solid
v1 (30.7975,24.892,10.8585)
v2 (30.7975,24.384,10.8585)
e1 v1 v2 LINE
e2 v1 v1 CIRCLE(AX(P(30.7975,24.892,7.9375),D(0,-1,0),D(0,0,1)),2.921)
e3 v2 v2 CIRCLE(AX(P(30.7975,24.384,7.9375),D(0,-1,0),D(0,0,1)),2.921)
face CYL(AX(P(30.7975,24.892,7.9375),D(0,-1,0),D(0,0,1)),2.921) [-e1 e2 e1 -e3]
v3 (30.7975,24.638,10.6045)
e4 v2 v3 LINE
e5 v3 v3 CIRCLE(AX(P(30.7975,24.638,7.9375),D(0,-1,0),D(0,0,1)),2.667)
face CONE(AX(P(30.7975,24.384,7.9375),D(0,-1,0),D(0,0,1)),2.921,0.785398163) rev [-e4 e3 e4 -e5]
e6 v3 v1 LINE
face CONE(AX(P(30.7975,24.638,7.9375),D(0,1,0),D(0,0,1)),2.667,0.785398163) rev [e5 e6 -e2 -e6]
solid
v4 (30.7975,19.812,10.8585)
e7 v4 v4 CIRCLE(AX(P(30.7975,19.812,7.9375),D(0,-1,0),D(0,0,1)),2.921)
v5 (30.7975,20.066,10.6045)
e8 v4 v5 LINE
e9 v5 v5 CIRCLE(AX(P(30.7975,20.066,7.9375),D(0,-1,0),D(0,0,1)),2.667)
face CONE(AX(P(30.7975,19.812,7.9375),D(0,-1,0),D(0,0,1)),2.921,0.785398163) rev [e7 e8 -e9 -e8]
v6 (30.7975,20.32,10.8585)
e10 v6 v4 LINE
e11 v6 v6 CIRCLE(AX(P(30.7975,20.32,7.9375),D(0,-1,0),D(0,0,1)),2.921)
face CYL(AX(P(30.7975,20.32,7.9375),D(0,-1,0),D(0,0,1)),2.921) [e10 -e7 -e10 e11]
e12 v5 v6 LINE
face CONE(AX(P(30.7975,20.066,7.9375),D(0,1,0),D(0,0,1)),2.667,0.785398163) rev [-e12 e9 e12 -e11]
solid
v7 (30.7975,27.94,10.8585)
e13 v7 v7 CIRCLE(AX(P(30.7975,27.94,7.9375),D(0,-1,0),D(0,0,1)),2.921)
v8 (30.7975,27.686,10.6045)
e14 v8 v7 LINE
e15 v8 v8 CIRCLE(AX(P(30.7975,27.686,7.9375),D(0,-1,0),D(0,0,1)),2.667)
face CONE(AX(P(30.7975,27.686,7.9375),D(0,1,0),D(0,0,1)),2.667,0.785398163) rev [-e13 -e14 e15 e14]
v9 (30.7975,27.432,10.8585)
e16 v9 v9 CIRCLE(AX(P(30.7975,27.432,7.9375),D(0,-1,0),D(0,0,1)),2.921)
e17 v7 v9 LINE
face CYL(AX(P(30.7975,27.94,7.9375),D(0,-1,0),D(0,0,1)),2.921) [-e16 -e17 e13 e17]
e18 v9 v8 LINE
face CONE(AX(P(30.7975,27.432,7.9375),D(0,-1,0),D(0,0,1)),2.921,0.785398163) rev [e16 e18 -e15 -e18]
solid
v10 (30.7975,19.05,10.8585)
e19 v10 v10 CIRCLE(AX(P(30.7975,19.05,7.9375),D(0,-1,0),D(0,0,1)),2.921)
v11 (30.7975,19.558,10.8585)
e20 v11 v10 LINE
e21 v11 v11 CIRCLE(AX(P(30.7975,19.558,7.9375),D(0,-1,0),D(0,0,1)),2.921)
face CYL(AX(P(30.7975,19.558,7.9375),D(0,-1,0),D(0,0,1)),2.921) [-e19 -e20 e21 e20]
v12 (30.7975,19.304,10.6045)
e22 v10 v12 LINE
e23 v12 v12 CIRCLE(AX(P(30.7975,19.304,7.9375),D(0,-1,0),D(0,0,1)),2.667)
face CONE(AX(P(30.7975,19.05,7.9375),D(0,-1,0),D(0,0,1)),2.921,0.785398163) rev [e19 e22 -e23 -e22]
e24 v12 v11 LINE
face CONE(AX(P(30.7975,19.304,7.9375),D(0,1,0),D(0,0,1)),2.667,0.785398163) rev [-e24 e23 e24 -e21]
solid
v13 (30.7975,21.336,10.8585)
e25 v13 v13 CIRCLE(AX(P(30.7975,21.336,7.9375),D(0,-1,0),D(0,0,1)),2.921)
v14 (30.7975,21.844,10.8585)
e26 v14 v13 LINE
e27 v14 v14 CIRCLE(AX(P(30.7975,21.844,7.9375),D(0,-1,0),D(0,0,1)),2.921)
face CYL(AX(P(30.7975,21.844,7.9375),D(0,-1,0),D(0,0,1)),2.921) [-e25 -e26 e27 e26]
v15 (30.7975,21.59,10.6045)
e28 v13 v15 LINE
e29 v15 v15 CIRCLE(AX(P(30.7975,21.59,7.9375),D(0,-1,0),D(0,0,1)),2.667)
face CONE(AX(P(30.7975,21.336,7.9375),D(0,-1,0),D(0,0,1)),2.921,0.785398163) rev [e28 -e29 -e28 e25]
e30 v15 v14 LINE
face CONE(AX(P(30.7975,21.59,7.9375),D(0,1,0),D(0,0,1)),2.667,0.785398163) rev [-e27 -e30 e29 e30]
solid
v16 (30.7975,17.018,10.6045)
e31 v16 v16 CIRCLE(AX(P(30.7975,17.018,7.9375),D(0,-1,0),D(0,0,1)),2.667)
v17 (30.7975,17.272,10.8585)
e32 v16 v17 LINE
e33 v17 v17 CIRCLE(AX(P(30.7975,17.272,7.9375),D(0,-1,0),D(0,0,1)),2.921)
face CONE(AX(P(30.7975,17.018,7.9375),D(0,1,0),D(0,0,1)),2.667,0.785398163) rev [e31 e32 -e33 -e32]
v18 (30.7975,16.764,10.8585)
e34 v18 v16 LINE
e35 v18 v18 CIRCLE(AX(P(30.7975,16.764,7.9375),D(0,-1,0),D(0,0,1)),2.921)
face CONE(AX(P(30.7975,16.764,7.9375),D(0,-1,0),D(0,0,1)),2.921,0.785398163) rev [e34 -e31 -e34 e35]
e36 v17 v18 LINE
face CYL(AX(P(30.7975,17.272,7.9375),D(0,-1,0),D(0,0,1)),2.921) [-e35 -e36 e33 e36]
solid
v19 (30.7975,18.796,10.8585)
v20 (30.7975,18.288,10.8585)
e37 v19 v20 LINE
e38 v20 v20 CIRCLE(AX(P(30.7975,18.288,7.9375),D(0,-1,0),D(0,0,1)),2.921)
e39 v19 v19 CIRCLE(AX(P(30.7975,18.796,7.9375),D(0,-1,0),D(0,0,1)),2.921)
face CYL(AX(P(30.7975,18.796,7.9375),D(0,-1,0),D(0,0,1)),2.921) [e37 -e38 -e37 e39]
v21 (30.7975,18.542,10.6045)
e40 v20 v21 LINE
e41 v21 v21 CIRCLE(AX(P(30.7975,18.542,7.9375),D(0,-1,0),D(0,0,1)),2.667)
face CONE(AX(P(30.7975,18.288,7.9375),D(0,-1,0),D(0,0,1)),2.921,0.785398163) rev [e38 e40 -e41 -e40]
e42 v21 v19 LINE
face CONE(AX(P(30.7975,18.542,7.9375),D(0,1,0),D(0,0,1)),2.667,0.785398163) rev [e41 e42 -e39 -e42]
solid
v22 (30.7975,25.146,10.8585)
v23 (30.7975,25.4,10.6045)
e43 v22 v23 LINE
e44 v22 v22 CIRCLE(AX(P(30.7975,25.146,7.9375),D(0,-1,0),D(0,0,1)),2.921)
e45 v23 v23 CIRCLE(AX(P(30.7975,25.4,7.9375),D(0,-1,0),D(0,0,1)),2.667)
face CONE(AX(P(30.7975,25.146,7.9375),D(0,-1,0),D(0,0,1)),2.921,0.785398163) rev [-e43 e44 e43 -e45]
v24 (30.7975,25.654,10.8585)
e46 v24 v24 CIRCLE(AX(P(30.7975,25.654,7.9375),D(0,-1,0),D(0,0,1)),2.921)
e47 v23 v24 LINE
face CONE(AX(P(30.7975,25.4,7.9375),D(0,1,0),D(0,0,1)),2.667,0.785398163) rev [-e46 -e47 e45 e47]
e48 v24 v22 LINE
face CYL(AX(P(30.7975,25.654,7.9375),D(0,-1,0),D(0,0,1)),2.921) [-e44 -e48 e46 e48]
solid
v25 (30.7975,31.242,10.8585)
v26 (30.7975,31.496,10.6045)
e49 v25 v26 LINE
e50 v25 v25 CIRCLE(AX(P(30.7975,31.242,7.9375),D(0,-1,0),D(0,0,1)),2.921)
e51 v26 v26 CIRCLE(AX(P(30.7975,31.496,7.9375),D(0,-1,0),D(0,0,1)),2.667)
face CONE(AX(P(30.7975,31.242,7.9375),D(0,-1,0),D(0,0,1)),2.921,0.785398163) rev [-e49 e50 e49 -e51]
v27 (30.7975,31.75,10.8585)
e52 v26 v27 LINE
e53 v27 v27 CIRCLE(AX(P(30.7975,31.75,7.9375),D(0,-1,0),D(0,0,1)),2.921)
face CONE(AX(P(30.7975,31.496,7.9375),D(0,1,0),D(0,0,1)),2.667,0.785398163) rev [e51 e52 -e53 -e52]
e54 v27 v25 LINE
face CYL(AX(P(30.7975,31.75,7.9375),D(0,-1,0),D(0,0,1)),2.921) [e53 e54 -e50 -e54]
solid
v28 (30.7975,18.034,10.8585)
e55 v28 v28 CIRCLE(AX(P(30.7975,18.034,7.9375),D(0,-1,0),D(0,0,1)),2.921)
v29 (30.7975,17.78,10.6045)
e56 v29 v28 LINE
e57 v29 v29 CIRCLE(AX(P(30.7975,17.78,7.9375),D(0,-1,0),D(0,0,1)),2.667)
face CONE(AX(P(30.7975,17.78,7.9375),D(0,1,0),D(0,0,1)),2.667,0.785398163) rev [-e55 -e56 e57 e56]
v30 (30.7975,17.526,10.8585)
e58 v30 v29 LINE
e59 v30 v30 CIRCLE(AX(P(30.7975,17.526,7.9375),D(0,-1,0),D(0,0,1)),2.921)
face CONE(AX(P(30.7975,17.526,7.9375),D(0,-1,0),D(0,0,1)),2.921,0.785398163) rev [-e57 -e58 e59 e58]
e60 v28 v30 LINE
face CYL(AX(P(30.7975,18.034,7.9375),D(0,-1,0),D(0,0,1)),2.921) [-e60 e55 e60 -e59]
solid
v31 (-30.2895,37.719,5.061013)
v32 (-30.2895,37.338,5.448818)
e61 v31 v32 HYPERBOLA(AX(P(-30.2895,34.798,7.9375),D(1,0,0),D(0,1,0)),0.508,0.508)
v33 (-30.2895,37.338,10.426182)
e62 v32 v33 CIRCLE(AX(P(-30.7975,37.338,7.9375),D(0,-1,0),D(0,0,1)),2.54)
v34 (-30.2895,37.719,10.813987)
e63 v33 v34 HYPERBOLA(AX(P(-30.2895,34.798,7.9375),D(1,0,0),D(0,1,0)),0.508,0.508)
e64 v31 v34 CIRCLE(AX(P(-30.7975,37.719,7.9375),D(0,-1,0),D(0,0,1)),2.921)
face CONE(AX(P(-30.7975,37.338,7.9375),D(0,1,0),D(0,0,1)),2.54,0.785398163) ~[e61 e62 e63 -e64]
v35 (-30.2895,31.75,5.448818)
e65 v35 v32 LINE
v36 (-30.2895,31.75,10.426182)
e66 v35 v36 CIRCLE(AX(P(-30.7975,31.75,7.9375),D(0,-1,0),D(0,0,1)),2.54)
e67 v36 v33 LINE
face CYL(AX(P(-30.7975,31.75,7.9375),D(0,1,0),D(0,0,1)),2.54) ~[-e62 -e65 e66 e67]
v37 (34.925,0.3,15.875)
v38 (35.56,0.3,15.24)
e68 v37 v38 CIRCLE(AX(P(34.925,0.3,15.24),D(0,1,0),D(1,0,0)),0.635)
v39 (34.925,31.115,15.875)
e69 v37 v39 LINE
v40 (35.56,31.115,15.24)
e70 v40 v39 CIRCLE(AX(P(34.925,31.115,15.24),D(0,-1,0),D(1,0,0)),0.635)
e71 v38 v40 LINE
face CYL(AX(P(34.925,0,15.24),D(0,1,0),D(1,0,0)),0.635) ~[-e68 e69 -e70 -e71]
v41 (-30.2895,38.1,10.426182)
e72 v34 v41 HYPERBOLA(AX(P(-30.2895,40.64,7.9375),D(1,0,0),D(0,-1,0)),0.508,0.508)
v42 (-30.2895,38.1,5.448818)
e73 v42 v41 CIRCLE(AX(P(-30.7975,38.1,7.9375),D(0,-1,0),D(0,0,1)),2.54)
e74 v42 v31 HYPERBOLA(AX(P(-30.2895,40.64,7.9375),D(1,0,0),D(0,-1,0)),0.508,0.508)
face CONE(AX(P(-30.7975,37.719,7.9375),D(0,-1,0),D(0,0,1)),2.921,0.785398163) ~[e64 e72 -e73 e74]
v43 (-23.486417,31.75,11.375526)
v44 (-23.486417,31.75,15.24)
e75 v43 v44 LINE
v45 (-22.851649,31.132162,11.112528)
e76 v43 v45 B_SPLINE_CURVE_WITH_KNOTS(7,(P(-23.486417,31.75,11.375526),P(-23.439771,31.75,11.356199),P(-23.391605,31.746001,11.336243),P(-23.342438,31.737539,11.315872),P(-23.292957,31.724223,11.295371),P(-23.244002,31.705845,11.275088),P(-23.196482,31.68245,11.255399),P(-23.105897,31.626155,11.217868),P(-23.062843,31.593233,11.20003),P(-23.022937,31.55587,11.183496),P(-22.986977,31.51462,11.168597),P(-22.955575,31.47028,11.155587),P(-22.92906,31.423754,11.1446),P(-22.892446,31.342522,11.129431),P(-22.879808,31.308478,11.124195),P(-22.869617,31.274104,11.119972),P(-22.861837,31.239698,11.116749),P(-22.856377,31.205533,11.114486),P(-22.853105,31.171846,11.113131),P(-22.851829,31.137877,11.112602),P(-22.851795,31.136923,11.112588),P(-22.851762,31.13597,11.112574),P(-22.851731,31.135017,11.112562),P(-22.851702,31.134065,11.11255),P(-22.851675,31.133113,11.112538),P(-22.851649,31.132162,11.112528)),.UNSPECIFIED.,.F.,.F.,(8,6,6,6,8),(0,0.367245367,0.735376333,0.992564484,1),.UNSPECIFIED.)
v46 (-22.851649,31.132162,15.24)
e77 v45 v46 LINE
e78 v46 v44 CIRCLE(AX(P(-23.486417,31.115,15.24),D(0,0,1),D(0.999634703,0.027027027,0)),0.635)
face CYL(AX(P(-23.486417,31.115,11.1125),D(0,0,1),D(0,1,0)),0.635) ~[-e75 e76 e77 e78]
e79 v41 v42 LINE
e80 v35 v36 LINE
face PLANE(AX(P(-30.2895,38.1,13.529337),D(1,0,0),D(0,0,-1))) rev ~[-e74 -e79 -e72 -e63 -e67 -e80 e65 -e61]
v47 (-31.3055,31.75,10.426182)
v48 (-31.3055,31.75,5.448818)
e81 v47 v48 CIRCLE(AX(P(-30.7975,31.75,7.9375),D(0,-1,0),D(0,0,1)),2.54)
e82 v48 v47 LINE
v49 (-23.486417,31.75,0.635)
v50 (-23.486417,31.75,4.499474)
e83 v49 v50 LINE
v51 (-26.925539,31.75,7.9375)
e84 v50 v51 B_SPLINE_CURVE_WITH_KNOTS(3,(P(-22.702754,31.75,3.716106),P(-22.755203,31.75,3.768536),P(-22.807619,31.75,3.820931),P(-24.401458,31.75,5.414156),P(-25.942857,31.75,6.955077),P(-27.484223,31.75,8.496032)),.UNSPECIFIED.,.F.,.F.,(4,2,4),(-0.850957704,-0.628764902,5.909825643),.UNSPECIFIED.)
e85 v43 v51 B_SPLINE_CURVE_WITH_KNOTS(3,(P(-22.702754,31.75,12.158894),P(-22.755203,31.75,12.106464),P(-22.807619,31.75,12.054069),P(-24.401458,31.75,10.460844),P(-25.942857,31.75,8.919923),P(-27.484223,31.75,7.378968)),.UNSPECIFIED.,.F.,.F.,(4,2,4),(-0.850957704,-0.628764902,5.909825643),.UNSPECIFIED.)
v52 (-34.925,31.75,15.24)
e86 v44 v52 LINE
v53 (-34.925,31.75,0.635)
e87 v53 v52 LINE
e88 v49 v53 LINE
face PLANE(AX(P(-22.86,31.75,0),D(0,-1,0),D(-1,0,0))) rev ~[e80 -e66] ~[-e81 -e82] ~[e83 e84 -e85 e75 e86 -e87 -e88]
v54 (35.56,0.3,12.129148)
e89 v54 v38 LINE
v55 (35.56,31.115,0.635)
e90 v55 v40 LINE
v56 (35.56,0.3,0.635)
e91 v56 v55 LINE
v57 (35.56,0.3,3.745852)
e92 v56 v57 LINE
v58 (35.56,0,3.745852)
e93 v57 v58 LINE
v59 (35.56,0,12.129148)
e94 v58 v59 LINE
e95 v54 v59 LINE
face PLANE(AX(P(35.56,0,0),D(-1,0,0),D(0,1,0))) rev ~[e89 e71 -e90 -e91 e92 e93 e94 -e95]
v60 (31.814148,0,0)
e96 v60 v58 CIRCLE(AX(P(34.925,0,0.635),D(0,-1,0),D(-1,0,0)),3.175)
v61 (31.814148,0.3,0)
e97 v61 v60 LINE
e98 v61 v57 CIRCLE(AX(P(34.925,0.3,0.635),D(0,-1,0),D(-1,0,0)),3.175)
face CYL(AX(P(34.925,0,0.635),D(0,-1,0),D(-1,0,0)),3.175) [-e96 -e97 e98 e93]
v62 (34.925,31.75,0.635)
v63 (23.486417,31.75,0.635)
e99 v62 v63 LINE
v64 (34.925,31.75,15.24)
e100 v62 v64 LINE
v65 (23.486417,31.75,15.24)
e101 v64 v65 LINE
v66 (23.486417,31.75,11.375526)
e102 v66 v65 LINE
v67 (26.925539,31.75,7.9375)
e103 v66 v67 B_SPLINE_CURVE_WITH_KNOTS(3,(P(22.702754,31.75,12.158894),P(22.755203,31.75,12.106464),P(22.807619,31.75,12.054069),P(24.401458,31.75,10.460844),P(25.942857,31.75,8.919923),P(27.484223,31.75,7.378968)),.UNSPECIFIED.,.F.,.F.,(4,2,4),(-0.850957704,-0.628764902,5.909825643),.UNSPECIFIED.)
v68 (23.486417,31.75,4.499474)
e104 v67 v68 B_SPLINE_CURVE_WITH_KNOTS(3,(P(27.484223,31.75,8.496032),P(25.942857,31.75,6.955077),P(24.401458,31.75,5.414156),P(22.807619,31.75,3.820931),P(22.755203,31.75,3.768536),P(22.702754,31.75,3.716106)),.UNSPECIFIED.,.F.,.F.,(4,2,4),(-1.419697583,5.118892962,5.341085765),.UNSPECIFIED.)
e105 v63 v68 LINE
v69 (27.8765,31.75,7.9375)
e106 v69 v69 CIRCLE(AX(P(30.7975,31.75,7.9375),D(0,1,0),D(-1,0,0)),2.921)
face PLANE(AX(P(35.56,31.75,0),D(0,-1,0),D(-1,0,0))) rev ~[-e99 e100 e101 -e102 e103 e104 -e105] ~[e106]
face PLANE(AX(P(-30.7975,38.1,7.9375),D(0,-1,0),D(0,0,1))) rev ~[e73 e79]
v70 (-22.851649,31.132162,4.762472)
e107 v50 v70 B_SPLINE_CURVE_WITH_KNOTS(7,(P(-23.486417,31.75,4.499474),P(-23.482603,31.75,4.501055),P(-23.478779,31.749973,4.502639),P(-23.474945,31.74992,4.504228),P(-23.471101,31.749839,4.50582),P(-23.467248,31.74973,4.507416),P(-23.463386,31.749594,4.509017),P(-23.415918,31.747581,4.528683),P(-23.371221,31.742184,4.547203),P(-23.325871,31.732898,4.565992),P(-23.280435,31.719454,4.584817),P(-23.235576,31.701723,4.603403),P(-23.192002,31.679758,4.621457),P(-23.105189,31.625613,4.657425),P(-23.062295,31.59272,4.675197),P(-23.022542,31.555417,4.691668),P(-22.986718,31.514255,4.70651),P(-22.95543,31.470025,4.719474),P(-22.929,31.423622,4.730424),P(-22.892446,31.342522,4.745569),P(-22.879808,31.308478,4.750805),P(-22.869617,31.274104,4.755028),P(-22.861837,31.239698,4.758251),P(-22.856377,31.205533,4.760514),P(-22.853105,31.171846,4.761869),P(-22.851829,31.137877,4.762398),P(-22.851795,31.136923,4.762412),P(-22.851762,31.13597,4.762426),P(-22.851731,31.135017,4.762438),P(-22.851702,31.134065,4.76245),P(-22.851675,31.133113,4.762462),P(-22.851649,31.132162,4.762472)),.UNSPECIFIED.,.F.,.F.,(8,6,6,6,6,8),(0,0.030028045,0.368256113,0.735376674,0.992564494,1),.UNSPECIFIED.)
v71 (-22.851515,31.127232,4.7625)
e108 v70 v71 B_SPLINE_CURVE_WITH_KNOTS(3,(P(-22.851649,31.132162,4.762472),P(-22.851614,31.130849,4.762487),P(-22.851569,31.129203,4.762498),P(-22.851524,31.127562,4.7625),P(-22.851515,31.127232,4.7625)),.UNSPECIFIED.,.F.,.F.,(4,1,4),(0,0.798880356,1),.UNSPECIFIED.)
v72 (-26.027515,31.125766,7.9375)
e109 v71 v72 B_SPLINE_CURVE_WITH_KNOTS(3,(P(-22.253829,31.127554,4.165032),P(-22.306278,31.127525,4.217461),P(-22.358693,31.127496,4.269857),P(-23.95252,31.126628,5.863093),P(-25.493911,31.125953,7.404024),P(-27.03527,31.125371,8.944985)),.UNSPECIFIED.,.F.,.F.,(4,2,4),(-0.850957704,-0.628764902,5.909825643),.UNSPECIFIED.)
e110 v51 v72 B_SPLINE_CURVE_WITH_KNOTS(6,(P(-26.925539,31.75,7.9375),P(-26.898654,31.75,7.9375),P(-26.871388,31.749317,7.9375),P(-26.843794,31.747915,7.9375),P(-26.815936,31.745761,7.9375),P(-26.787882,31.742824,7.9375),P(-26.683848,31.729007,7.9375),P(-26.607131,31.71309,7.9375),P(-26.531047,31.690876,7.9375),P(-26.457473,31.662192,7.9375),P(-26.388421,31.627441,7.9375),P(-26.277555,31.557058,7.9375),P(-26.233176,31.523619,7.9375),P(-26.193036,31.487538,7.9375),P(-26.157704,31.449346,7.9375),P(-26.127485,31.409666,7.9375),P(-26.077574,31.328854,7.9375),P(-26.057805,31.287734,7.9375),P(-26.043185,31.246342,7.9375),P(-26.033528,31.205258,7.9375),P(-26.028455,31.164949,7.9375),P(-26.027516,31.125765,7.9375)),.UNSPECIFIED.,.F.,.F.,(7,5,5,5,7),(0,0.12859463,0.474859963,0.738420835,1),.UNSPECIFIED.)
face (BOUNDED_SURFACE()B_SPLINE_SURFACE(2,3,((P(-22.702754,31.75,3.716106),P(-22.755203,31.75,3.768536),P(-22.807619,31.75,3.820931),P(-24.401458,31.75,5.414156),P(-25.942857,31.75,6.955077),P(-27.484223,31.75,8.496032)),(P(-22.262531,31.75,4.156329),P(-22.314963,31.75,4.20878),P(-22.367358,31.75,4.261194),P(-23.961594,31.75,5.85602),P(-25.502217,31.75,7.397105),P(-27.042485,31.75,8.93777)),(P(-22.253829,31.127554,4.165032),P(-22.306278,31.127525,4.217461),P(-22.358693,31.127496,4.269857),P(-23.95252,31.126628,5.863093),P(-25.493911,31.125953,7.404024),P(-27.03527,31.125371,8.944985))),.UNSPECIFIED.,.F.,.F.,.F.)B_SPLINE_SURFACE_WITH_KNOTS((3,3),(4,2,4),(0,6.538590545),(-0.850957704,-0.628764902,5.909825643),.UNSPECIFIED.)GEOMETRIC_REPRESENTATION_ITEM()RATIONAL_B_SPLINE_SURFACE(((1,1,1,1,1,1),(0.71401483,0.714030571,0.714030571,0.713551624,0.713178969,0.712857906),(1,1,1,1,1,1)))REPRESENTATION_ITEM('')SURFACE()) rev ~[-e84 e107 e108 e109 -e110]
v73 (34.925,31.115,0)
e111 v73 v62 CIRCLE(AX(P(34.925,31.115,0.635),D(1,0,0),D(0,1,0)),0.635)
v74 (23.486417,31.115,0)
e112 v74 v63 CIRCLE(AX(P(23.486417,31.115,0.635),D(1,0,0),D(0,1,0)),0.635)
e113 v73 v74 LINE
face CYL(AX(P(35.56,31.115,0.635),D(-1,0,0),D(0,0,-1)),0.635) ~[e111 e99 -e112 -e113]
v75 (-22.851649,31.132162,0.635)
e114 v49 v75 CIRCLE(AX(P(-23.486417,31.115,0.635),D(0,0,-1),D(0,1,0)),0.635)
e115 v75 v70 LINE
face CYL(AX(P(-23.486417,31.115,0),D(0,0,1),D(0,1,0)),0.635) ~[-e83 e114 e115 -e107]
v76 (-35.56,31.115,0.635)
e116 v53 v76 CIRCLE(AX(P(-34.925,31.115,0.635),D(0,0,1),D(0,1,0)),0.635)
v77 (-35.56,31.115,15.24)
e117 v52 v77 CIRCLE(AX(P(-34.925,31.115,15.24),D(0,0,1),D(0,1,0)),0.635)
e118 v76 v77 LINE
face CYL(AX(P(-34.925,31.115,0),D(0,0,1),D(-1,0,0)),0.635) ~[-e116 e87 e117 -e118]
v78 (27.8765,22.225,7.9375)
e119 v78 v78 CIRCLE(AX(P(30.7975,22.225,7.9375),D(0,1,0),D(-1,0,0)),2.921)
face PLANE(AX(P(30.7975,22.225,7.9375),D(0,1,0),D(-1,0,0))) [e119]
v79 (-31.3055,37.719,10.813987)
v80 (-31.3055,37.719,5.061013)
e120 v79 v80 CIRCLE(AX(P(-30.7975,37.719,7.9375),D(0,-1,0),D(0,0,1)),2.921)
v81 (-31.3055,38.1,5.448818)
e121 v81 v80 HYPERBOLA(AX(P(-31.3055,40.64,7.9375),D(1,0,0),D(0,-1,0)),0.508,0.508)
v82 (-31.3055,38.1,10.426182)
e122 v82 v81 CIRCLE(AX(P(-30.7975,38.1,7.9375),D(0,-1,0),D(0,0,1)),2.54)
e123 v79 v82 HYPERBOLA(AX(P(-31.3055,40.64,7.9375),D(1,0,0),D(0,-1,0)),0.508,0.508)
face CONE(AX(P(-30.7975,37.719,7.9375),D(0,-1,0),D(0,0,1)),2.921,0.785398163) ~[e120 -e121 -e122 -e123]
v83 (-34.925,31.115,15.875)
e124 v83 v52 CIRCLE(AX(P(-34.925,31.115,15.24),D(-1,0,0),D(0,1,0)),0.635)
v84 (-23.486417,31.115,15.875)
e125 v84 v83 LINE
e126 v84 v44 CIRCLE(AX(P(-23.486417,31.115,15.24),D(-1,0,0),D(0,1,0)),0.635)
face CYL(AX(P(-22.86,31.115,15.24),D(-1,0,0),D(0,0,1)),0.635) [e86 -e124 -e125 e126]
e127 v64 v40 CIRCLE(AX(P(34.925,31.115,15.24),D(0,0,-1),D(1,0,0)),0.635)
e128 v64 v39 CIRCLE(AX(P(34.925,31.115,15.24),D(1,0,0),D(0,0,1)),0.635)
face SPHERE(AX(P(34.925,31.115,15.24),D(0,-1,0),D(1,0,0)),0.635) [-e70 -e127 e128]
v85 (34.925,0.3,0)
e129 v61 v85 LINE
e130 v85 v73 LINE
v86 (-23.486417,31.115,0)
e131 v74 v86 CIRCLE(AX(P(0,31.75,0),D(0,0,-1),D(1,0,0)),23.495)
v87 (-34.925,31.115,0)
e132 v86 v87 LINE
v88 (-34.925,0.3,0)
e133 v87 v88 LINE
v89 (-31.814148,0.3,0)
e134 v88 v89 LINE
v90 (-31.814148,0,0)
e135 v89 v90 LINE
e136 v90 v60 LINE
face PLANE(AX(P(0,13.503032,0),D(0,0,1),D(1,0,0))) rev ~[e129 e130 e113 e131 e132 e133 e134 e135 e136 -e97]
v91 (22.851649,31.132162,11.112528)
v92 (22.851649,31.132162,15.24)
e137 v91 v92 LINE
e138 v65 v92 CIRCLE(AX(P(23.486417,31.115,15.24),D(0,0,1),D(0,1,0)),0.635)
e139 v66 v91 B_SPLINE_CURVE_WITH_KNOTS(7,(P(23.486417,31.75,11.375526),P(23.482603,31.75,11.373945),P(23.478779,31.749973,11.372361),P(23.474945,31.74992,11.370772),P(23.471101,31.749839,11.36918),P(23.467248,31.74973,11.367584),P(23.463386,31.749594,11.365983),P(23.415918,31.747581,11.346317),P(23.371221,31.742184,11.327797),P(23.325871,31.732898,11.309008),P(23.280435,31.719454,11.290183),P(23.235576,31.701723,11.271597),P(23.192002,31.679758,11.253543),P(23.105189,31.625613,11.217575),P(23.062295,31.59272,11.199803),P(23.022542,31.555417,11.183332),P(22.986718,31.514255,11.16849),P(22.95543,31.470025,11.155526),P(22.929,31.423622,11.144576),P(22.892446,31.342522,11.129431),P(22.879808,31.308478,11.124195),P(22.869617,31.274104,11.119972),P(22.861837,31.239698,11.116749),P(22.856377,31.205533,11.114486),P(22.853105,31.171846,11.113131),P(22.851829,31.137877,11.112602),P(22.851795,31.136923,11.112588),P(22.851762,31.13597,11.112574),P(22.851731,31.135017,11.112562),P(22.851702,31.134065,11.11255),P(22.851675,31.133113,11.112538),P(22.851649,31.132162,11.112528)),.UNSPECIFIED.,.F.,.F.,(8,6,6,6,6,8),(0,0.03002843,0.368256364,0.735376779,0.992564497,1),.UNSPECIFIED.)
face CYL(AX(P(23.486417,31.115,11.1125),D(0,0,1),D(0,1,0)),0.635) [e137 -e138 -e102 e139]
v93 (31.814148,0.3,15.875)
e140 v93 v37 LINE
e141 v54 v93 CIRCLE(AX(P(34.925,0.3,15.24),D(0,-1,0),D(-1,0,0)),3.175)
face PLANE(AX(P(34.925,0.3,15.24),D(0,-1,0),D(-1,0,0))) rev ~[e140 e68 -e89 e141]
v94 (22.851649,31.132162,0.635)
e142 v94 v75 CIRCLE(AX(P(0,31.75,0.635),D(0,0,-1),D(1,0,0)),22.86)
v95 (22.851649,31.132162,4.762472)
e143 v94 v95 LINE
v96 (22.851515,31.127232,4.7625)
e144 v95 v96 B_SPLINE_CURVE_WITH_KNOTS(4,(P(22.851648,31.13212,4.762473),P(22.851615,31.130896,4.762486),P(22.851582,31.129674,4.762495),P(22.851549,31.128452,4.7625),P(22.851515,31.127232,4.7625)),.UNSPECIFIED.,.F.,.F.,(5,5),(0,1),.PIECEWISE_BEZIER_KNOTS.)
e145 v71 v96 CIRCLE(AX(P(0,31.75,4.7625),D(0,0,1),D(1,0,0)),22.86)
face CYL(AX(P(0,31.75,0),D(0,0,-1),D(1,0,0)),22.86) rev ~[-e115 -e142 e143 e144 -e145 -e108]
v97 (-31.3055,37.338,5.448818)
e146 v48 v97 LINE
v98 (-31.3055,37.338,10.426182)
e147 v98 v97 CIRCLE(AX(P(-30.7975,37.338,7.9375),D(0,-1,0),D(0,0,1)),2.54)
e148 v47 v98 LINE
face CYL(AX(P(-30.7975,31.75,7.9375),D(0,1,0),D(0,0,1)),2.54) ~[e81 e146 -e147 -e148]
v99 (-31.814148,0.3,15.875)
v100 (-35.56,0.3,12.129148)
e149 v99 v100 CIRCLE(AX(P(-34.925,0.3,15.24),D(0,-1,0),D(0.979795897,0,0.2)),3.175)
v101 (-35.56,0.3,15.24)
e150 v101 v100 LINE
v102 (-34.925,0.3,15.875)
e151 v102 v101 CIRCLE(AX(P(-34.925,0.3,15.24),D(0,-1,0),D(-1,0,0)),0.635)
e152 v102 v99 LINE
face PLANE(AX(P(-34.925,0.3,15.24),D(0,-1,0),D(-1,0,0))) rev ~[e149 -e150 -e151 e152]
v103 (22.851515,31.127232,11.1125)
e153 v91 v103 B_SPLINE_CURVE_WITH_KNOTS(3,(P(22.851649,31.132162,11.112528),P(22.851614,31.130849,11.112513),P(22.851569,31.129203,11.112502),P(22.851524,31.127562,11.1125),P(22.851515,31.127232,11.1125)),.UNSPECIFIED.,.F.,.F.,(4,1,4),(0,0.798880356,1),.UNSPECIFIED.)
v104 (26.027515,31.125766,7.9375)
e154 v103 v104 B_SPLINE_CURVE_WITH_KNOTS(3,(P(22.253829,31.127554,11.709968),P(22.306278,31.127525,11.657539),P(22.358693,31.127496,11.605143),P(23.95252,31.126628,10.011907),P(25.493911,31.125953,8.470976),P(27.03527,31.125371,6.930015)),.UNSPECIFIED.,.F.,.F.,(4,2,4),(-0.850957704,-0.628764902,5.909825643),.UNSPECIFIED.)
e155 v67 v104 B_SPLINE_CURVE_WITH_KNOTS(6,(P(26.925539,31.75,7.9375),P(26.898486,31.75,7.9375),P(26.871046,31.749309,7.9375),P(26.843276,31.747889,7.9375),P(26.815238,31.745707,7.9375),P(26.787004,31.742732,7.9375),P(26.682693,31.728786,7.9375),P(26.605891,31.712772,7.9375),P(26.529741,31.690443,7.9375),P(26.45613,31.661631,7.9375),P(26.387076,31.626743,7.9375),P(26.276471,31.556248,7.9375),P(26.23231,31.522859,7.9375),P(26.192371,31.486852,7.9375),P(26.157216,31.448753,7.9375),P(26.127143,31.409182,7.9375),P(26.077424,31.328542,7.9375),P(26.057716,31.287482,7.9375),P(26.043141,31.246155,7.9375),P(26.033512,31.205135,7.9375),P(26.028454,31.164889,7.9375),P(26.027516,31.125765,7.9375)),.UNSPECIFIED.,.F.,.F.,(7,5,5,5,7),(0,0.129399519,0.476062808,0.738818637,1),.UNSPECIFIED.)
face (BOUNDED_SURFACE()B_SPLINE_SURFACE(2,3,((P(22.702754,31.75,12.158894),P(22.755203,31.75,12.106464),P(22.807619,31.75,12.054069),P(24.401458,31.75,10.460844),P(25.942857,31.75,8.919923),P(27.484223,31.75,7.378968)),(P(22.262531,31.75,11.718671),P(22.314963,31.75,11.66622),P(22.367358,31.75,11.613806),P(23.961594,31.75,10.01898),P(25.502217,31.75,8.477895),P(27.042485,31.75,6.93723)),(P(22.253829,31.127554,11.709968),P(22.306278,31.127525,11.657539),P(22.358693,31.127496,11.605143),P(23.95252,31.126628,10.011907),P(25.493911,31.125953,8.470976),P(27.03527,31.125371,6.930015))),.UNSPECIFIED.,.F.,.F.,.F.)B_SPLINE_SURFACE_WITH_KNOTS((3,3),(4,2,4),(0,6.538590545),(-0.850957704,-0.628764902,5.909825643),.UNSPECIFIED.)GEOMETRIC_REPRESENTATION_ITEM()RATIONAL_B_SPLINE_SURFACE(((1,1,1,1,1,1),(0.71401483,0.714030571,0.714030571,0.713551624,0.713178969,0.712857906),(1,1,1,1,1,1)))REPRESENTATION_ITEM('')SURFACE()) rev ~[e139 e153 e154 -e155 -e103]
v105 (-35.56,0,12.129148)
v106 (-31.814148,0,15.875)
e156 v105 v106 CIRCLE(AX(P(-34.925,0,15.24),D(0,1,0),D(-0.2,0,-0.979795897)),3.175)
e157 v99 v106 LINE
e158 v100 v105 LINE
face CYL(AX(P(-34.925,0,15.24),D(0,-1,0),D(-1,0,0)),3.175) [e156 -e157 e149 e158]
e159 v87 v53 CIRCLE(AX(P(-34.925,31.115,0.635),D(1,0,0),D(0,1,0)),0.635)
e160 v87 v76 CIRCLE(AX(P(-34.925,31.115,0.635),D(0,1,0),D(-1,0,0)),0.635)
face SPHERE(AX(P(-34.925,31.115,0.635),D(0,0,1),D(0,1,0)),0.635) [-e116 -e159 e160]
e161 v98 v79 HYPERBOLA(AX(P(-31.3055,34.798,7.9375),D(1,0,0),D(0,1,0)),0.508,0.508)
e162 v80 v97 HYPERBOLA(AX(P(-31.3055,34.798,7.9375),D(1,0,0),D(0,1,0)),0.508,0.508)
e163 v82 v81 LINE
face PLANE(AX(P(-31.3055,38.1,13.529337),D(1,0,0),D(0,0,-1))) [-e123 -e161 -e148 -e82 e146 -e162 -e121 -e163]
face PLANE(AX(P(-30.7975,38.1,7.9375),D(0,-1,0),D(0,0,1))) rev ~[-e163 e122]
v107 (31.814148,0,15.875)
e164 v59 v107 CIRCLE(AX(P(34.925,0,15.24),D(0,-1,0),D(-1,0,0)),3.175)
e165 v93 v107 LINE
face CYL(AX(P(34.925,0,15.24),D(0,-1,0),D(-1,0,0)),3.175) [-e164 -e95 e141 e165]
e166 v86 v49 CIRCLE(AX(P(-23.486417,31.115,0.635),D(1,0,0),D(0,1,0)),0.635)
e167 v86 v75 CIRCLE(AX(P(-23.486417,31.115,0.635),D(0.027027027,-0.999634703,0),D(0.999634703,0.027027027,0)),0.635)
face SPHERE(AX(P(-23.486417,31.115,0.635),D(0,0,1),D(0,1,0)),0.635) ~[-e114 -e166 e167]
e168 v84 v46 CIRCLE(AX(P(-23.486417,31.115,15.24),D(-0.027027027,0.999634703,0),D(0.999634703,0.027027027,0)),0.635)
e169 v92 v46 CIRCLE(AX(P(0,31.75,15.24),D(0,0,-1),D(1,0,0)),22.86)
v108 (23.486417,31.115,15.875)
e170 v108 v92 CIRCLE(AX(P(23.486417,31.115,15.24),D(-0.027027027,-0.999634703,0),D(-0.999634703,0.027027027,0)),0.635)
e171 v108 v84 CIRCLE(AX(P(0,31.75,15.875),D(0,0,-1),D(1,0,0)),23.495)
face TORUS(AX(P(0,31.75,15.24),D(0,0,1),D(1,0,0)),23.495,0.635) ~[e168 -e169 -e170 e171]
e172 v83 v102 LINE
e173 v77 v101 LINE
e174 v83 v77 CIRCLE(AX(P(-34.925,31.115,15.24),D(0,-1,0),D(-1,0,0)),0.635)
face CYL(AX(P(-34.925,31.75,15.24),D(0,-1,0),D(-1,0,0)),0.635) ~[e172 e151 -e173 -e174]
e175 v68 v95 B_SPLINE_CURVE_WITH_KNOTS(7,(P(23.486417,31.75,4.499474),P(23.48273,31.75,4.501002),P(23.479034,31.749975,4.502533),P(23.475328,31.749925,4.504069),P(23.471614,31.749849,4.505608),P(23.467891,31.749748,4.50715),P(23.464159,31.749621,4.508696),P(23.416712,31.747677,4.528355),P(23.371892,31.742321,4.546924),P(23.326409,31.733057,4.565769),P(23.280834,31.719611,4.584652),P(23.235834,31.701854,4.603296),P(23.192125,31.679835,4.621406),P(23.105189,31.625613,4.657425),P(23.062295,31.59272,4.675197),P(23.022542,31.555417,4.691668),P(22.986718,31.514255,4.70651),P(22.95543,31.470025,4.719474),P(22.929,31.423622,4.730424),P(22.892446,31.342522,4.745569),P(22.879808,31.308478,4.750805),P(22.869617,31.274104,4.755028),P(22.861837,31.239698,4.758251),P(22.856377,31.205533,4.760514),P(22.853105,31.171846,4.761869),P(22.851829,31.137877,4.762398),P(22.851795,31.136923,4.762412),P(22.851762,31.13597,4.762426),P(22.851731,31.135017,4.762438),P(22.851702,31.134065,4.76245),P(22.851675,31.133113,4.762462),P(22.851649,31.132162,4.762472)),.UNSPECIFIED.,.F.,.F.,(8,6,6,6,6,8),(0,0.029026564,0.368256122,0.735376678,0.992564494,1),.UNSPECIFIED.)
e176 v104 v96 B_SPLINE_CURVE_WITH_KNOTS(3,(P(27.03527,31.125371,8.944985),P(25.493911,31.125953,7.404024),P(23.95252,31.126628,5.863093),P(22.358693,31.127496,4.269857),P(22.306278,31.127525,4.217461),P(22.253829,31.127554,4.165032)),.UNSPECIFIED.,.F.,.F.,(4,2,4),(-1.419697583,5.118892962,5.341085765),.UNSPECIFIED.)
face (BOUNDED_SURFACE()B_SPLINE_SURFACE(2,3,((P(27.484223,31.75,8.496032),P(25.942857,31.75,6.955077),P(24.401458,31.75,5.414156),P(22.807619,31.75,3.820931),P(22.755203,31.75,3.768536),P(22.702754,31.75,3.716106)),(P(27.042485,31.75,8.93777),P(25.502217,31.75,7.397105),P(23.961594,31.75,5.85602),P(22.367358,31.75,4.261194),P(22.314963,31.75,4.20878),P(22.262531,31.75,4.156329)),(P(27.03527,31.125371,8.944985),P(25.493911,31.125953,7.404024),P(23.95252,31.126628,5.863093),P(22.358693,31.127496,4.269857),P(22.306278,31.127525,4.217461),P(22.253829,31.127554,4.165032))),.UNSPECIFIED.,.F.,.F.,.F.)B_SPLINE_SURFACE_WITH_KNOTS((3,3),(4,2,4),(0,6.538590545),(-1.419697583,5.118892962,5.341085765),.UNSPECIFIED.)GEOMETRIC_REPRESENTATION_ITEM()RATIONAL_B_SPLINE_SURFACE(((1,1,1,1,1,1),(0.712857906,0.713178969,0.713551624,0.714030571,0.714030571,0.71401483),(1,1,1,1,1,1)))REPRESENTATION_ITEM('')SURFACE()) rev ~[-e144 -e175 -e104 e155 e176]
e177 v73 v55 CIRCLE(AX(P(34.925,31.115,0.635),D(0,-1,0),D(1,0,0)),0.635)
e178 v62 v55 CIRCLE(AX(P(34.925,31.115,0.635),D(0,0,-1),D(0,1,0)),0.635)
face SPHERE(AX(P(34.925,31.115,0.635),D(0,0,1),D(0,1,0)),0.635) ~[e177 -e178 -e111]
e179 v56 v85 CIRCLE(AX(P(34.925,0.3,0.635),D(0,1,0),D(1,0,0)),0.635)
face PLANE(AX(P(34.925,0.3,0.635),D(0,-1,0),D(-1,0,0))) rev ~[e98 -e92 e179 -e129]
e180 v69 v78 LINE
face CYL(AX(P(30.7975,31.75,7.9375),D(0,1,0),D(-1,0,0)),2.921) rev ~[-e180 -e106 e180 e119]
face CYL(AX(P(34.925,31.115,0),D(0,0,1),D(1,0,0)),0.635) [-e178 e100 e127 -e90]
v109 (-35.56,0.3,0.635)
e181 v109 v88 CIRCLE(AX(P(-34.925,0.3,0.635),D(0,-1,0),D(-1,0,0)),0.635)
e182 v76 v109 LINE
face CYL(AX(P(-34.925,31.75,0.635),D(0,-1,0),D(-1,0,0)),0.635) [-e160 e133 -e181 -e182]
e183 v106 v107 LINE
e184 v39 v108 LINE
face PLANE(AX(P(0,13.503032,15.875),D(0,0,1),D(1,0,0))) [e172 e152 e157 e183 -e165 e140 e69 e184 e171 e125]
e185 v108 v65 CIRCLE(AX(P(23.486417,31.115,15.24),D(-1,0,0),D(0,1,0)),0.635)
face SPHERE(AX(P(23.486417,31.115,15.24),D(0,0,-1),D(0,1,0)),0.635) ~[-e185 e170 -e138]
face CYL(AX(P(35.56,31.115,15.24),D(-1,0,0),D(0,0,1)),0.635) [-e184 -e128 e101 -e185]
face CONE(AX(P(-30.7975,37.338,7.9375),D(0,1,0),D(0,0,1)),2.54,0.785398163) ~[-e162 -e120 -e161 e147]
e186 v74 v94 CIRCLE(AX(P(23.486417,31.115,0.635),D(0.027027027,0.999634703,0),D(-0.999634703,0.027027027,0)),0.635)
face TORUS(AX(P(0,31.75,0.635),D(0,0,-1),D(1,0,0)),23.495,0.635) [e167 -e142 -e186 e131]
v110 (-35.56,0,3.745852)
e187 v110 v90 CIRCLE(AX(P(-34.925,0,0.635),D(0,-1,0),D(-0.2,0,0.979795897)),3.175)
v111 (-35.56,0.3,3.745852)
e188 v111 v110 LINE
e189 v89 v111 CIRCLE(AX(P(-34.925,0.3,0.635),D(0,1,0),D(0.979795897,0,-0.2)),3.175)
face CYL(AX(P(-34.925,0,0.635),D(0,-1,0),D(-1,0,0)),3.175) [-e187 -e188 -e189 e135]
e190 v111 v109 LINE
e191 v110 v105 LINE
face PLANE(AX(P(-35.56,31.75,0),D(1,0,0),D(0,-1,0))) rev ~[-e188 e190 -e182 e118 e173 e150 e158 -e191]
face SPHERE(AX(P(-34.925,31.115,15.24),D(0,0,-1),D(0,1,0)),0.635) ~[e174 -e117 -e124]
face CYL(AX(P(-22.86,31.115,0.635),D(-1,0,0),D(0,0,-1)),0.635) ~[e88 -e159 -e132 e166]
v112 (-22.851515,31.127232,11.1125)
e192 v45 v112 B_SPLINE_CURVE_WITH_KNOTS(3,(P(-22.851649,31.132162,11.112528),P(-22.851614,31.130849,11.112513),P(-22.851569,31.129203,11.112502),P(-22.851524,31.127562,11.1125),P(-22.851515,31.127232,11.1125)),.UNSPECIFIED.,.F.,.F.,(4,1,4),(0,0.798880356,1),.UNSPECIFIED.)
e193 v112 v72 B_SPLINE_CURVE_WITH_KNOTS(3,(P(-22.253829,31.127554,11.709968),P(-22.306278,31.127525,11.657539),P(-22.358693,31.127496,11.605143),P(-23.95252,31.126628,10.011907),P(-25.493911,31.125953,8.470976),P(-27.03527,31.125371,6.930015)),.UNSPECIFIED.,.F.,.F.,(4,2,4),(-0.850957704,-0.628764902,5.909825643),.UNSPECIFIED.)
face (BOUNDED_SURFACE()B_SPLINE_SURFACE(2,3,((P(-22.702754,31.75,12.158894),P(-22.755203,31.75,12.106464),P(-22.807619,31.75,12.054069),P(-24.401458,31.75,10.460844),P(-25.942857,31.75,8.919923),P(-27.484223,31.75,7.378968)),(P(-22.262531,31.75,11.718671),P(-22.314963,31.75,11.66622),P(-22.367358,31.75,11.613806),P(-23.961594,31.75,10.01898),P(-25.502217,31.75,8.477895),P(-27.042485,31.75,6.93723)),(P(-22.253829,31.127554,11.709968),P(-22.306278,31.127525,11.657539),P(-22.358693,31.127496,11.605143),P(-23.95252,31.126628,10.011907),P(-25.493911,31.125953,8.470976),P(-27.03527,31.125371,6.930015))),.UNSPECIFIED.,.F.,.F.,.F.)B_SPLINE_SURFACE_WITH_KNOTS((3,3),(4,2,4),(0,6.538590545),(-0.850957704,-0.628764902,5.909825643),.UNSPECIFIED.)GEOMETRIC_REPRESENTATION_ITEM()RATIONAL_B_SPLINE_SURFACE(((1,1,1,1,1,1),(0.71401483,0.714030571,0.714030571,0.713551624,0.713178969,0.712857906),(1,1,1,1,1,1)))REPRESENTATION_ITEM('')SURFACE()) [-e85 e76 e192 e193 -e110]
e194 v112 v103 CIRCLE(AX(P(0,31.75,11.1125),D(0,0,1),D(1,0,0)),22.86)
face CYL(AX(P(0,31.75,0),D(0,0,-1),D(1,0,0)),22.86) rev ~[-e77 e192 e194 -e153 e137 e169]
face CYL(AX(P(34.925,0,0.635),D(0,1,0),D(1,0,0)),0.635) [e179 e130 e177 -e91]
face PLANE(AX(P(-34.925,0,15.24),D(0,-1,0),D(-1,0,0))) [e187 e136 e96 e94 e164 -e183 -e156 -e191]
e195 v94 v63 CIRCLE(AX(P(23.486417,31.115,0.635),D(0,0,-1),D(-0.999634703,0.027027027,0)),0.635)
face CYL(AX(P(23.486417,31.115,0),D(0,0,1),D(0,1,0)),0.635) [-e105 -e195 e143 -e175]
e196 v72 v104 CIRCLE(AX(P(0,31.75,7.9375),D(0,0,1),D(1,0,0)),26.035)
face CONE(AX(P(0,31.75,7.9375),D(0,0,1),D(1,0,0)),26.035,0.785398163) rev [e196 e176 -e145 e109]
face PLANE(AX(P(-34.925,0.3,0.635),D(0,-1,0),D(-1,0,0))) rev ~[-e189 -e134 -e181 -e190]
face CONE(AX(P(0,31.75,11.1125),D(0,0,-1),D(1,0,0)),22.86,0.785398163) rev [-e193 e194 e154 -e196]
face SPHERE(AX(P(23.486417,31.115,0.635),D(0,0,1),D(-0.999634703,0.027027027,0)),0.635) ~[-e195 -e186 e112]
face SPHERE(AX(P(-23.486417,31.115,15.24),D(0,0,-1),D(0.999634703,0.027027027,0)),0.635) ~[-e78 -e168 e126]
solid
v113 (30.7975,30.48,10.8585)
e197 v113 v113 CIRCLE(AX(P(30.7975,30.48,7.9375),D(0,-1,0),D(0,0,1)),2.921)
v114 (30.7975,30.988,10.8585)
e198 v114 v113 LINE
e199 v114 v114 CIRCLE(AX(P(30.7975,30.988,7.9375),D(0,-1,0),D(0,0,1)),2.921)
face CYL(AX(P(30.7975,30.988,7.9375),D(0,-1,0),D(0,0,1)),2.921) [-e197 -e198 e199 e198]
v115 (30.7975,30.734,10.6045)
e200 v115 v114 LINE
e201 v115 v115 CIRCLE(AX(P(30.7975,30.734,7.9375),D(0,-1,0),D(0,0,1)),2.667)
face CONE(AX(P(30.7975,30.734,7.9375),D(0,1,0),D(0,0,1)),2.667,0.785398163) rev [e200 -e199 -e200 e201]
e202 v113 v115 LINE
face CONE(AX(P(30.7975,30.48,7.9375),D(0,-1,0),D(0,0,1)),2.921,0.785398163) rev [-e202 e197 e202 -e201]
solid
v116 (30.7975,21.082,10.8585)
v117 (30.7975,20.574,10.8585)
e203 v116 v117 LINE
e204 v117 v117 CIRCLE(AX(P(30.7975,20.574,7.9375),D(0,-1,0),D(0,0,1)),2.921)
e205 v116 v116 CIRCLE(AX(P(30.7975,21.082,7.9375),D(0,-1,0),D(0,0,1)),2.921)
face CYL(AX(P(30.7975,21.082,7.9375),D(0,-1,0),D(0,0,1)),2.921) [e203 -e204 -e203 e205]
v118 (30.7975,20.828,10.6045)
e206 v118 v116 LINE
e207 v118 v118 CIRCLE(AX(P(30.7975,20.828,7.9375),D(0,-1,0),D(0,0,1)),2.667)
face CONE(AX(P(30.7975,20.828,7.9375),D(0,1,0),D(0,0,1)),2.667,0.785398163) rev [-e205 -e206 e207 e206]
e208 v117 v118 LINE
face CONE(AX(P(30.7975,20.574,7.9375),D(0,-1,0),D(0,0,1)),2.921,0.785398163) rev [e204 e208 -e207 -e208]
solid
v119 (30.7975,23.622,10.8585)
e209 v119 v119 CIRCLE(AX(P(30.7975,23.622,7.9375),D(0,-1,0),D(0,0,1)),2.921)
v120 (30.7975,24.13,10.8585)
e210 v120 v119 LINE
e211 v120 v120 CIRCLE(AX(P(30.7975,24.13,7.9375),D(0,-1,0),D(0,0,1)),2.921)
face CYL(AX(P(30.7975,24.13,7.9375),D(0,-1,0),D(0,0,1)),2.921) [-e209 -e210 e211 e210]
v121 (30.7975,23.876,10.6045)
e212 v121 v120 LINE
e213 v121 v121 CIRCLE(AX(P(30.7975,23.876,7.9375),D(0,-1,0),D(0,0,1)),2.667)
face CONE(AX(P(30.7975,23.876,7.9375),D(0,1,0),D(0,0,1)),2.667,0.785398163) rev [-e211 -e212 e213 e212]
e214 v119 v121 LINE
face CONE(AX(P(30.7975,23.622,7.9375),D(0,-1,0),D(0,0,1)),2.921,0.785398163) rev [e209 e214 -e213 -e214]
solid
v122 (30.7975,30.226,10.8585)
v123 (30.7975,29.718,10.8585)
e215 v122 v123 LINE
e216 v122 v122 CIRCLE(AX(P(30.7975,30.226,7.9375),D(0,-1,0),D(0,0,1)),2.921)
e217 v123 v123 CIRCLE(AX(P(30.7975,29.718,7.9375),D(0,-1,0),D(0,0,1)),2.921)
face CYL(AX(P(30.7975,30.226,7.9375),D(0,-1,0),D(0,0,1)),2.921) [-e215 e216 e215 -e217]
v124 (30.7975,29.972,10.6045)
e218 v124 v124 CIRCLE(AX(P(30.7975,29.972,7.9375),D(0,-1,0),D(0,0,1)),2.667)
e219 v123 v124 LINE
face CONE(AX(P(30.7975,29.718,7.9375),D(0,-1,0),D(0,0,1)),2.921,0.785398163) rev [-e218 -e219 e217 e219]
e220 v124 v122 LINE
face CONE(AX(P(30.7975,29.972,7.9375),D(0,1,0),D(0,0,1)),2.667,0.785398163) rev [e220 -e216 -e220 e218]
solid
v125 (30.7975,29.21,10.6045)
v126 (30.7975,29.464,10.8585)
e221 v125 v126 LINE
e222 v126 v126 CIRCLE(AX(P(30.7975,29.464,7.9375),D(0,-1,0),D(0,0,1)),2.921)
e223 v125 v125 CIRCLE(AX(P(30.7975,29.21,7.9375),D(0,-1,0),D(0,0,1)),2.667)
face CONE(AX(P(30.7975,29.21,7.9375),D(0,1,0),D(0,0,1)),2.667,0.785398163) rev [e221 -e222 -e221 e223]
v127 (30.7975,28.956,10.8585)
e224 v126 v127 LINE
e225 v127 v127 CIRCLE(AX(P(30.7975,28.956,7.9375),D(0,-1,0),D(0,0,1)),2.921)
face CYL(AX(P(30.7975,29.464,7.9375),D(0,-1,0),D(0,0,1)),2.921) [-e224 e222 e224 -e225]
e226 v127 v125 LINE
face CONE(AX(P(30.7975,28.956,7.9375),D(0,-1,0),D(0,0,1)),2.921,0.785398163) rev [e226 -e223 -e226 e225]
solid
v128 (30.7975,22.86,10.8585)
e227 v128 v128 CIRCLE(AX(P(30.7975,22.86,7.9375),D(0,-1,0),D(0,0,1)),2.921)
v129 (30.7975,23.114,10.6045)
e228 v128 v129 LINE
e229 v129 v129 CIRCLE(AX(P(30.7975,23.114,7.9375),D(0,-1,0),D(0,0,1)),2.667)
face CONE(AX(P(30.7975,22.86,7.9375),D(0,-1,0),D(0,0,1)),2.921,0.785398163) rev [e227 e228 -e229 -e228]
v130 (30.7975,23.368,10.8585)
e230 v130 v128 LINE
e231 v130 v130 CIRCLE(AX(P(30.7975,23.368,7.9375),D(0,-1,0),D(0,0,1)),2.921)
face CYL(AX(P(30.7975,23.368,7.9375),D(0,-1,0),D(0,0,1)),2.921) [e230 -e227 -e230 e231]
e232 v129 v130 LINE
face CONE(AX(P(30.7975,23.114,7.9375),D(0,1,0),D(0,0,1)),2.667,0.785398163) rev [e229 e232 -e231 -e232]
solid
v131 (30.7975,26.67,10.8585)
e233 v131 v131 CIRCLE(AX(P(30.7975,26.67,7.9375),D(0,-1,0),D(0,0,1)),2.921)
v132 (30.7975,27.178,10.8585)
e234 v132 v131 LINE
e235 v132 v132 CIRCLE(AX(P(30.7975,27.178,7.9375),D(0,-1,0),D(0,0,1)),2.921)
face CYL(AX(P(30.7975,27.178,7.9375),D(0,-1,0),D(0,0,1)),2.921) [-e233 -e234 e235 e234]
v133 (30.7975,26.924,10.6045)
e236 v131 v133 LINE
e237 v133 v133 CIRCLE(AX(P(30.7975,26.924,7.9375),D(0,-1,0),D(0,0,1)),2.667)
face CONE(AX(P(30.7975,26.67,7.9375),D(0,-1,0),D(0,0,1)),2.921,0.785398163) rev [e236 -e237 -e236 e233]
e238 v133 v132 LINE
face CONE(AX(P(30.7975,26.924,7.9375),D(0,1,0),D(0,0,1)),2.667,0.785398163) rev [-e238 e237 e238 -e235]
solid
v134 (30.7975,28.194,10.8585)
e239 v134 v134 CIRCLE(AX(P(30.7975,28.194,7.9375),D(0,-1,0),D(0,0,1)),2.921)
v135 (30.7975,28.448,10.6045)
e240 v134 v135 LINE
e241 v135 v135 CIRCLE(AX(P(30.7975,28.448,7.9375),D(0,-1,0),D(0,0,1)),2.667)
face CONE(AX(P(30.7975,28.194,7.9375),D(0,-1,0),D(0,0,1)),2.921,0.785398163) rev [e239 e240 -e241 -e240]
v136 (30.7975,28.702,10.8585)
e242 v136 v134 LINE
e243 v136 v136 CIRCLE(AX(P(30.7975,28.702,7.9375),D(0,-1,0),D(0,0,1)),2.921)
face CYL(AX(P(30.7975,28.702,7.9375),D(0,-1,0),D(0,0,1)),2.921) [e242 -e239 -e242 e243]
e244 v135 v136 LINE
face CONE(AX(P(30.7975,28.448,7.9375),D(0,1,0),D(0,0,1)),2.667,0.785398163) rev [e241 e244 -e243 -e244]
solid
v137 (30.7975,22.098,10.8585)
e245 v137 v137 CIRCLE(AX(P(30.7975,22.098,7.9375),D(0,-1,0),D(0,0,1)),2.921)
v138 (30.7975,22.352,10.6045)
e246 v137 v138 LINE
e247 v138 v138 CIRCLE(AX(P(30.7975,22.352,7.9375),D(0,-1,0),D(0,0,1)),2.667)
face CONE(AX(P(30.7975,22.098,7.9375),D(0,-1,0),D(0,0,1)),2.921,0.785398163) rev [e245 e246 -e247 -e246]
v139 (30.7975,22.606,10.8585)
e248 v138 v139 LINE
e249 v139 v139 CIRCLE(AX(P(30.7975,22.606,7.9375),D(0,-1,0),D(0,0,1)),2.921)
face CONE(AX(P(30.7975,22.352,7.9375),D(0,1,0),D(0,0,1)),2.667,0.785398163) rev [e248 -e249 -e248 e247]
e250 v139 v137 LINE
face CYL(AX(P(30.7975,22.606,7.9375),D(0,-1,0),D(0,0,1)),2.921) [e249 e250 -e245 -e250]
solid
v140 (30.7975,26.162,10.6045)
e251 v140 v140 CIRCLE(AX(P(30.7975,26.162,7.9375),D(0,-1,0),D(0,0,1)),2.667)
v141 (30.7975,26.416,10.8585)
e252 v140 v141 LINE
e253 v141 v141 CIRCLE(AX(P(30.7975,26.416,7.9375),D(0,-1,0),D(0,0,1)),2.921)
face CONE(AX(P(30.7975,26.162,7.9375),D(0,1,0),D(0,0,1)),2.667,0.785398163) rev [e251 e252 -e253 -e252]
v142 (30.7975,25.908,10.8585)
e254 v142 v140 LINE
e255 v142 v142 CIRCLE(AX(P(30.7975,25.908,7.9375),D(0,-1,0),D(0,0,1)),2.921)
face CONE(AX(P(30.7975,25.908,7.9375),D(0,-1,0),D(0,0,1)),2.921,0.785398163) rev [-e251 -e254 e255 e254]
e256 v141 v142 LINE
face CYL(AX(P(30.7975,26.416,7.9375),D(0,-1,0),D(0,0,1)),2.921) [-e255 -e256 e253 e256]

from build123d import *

# Parameters (mm, degrees)
BOSS_EXTRUDE1_DEPTH = 15.875
SKETCH6_R           = 2.921
CUT_EXTRUDE2_DEPTH  = 9.525
CUT_EXTRUDE3_REACH  = 56.481
SKETCH16_W          = 1.016
SKETCH16_H          = 11.1836739
FILLET1_R           = 0.635
SKETCH17_R          = 3.175
BOSS_EXTRUDE2_DEPTH = 0.3


with BuildPart() as part:
    # Sketch1 → Boss-Extrude1 (new body)
    with BuildSketch(Plane.XY):
        with BuildLine():
            Line((-35.56, 0), (35.56, 0))
            Line((35.56, 0), (35.56, 31.75))
            Line((35.56, 31.75), (22.86, 31.75))
            ThreePointArc((22.86, 31.75), (0, 8.89), (-22.86, 31.75))
            Line((-22.86, 31.75), (-35.56, 31.75))
            Line((-35.56, 31.75), (-35.56, 0))
        make_face()
    extrude(amount=BOSS_EXTRUDE1_DEPTH)

    # Sketch2 → Cut-Revolve1 (revolve, cut)
    with BuildSketch(Plane(origin=(0, 31.75, 0), x_dir=(1, 0, 0), z_dir=(0, 1, 0))):
        Polygon((22.86, -11.1125), (26.035, -7.9375), (22.86, -4.7625), align=None)
    revolve(axis=Axis((0, 31.75, 0), (0, 0, 1)), mode=Mode.SUBTRACT)

    # Sketch6 → Cut-Extrude2 (cut)
    with BuildSketch(Plane(origin=(0, 31.75, 0), x_dir=(1, 0, 0), z_dir=(0, 1, 0))):
        with Locations(Location((30.7975, -7.9375, 0), (0, 0, 180))):
            Circle(SKETCH6_R)
    extrude(amount=-CUT_EXTRUDE2_DEPTH, mode=Mode.SUBTRACT)

    # Sketch15 → Revolve2 (revolve)
    with BuildSketch(Plane.XY.offset(7.9375), mode=Mode.PRIVATE) as revolve2_sk:
        Polygon((-33.3375, 31.75), (-33.3375, 37.338), (-33.7185, 37.719), (-33.3375, 38.1), (-30.7975, 38.1), (-30.7975, 31.75), align=None)
    revolve(revolve2_sk.sketch.rotate(Axis((-30.7975, 38.1, 7.9375), (0, -1, 0)), 270), axis=Axis((-30.7975, 38.1, 7.9375), (0, -1, 0)))

    # Cut-Extrude3: up to this face of the body (flat: up to its plane)
    cut_extrude3_end = Plane(part.part.faces().sort_by_distance((-29.21, 31.75, 0.203299195))[0])
    # Sketch16 → Cut-Extrude3 (cut, up to the picked face)
    with BuildSketch(Plane(origin=(0, 38.1, 0), x_dir=(1, 0, 0), z_dir=(0, 1, 0)), mode=Mode.PRIVATE) as cut_extrude3_sk1:
        with Locations((-30.7975, -7.9375)):
            Rectangle(SKETCH16_W, SKETCH16_H)
    cut_extrude3_tool1 = split(extrude(cut_extrude3_sk1.sketch, amount=-CUT_EXTRUDE3_REACH, mode=Mode.PRIVATE), bisect_by=cut_extrude3_end, keep=Keep.BOTH, mode=Mode.PRIVATE)
    add(cut_extrude3_tool1.solids().sort_by(Axis((-30.7975, 38.1, 7.9375), (0, -1, 0)))[0], mode=Mode.SUBTRACT)

    # Fillet1
    fillet1_edges = [part.edges().sort_by_distance(p)[0] for p in [
        (35.56, 15.875, 15.875),
        (-35.56, 31.75, 7.9375),
        (-22.86, 31.75, 13.49375),
        (22.86, 31.75, 13.49375),
        (35.56, 31.75, 7.9375),
        (29.21, 31.75, 15.875),
        (0, 8.89, 15.875),
        (-29.21, 31.75, 15.875),
        (-22.86, 31.75, 2.38125),
        (-24.4475, 31.75, 6.35),
        (-24.4475, 31.75, 9.525),
        (22.86, 31.75, 2.38125),
        (24.4475, 31.75, 9.525),
        (24.4475, 31.75, 6.35),
        (-35.56, 15.875, 15.875),
        (-29.21, 31.75, 0),
        (0, 8.89, 0),
        (29.21, 31.75, 0),
        (35.56, 15.875, 0),
        (-35.56, 15.875, 0),
    ]]
    fillet(fillet1_edges, radius=FILLET1_R)

    # Sketch17 → Boss-Extrude2 (add)
    with BuildSketch(Plane(origin=(0, 0, 0), x_dir=(-1, 0, 0), z_dir=(0, -1, 0))):
        with Locations((34.925, -15.24)):
            Circle(SKETCH17_R)
        with Locations((34.925, -0.635)):
            Circle(SKETCH17_R)
        with Locations((-34.925, -0.635)):
            Circle(SKETCH17_R)
        with Locations((-34.925, -15.24)):
            Circle(SKETCH17_R)
    extrude(amount=-BOSS_EXTRUDE2_DEPTH)


with BuildPart() as body_2:
    # Sketch12 → Revolve1 (revolve)
    with BuildSketch(Plane.XY.offset(7.9375), mode=Mode.PRIVATE) as revolve1_sk:
        Polygon((27.8765, 30.48), (28.1305, 30.734), (27.8765, 30.988), align=None)
        Polygon((27.8765, 31.242), (28.1305, 31.496), (27.8765, 31.75), align=None)
        Polygon((27.8765, 29.718), (28.1305, 29.972), (27.8765, 30.226), align=None)
        Polygon((27.8765, 28.956), (28.1305, 29.21), (27.8765, 29.464), align=None)
        Polygon((27.8765, 28.194), (28.1305, 28.448), (27.8765, 28.702), align=None)
        Polygon((27.8765, 27.432), (28.1305, 27.686), (27.8765, 27.94), align=None)
        Polygon((27.8765, 26.67), (28.1305, 26.924), (27.8765, 27.178), align=None)
        Polygon((27.8765, 25.908), (28.1305, 26.162), (27.8765, 26.416), align=None)
        Polygon((27.8765, 25.146), (28.1305, 25.4), (27.8765, 25.654), align=None)
        Polygon((27.8765, 24.384), (28.1305, 24.638), (27.8765, 24.892), align=None)
        Polygon((27.8765, 23.622), (28.1305, 23.876), (27.8765, 24.13), align=None)
        Polygon((27.8765, 22.86), (28.1305, 23.114), (27.8765, 23.368), align=None)
        Polygon((27.8765, 22.098), (28.1305, 22.352), (27.8765, 22.606), align=None)
        Polygon((27.8765, 21.336), (28.1305, 21.59), (27.8765, 21.844), align=None)
        Polygon((27.8765, 20.574), (28.1305, 20.828), (27.8765, 21.082), align=None)
        Polygon((27.8765, 19.812), (28.1305, 20.066), (27.8765, 20.32), align=None)
        Polygon((27.8765, 19.05), (28.1305, 19.304), (27.8765, 19.558), align=None)
        Polygon((27.8765, 18.288), (28.1305, 18.542), (27.8765, 18.796), align=None)
        Polygon((27.8765, 17.526), (28.1305, 17.78), (27.8765, 18.034), align=None)
        Polygon((27.8765, 16.764), (28.1305, 17.018), (27.8765, 17.272), align=None)
    revolve(revolve1_sk.sketch.rotate(Axis((30.7975, 31.75, 7.9375), (0, -1, 0)), 270), axis=Axis((30.7975, 31.75, 7.9375), (0, -1, 0)))


solid = Compound([part.part, body_2.part])
